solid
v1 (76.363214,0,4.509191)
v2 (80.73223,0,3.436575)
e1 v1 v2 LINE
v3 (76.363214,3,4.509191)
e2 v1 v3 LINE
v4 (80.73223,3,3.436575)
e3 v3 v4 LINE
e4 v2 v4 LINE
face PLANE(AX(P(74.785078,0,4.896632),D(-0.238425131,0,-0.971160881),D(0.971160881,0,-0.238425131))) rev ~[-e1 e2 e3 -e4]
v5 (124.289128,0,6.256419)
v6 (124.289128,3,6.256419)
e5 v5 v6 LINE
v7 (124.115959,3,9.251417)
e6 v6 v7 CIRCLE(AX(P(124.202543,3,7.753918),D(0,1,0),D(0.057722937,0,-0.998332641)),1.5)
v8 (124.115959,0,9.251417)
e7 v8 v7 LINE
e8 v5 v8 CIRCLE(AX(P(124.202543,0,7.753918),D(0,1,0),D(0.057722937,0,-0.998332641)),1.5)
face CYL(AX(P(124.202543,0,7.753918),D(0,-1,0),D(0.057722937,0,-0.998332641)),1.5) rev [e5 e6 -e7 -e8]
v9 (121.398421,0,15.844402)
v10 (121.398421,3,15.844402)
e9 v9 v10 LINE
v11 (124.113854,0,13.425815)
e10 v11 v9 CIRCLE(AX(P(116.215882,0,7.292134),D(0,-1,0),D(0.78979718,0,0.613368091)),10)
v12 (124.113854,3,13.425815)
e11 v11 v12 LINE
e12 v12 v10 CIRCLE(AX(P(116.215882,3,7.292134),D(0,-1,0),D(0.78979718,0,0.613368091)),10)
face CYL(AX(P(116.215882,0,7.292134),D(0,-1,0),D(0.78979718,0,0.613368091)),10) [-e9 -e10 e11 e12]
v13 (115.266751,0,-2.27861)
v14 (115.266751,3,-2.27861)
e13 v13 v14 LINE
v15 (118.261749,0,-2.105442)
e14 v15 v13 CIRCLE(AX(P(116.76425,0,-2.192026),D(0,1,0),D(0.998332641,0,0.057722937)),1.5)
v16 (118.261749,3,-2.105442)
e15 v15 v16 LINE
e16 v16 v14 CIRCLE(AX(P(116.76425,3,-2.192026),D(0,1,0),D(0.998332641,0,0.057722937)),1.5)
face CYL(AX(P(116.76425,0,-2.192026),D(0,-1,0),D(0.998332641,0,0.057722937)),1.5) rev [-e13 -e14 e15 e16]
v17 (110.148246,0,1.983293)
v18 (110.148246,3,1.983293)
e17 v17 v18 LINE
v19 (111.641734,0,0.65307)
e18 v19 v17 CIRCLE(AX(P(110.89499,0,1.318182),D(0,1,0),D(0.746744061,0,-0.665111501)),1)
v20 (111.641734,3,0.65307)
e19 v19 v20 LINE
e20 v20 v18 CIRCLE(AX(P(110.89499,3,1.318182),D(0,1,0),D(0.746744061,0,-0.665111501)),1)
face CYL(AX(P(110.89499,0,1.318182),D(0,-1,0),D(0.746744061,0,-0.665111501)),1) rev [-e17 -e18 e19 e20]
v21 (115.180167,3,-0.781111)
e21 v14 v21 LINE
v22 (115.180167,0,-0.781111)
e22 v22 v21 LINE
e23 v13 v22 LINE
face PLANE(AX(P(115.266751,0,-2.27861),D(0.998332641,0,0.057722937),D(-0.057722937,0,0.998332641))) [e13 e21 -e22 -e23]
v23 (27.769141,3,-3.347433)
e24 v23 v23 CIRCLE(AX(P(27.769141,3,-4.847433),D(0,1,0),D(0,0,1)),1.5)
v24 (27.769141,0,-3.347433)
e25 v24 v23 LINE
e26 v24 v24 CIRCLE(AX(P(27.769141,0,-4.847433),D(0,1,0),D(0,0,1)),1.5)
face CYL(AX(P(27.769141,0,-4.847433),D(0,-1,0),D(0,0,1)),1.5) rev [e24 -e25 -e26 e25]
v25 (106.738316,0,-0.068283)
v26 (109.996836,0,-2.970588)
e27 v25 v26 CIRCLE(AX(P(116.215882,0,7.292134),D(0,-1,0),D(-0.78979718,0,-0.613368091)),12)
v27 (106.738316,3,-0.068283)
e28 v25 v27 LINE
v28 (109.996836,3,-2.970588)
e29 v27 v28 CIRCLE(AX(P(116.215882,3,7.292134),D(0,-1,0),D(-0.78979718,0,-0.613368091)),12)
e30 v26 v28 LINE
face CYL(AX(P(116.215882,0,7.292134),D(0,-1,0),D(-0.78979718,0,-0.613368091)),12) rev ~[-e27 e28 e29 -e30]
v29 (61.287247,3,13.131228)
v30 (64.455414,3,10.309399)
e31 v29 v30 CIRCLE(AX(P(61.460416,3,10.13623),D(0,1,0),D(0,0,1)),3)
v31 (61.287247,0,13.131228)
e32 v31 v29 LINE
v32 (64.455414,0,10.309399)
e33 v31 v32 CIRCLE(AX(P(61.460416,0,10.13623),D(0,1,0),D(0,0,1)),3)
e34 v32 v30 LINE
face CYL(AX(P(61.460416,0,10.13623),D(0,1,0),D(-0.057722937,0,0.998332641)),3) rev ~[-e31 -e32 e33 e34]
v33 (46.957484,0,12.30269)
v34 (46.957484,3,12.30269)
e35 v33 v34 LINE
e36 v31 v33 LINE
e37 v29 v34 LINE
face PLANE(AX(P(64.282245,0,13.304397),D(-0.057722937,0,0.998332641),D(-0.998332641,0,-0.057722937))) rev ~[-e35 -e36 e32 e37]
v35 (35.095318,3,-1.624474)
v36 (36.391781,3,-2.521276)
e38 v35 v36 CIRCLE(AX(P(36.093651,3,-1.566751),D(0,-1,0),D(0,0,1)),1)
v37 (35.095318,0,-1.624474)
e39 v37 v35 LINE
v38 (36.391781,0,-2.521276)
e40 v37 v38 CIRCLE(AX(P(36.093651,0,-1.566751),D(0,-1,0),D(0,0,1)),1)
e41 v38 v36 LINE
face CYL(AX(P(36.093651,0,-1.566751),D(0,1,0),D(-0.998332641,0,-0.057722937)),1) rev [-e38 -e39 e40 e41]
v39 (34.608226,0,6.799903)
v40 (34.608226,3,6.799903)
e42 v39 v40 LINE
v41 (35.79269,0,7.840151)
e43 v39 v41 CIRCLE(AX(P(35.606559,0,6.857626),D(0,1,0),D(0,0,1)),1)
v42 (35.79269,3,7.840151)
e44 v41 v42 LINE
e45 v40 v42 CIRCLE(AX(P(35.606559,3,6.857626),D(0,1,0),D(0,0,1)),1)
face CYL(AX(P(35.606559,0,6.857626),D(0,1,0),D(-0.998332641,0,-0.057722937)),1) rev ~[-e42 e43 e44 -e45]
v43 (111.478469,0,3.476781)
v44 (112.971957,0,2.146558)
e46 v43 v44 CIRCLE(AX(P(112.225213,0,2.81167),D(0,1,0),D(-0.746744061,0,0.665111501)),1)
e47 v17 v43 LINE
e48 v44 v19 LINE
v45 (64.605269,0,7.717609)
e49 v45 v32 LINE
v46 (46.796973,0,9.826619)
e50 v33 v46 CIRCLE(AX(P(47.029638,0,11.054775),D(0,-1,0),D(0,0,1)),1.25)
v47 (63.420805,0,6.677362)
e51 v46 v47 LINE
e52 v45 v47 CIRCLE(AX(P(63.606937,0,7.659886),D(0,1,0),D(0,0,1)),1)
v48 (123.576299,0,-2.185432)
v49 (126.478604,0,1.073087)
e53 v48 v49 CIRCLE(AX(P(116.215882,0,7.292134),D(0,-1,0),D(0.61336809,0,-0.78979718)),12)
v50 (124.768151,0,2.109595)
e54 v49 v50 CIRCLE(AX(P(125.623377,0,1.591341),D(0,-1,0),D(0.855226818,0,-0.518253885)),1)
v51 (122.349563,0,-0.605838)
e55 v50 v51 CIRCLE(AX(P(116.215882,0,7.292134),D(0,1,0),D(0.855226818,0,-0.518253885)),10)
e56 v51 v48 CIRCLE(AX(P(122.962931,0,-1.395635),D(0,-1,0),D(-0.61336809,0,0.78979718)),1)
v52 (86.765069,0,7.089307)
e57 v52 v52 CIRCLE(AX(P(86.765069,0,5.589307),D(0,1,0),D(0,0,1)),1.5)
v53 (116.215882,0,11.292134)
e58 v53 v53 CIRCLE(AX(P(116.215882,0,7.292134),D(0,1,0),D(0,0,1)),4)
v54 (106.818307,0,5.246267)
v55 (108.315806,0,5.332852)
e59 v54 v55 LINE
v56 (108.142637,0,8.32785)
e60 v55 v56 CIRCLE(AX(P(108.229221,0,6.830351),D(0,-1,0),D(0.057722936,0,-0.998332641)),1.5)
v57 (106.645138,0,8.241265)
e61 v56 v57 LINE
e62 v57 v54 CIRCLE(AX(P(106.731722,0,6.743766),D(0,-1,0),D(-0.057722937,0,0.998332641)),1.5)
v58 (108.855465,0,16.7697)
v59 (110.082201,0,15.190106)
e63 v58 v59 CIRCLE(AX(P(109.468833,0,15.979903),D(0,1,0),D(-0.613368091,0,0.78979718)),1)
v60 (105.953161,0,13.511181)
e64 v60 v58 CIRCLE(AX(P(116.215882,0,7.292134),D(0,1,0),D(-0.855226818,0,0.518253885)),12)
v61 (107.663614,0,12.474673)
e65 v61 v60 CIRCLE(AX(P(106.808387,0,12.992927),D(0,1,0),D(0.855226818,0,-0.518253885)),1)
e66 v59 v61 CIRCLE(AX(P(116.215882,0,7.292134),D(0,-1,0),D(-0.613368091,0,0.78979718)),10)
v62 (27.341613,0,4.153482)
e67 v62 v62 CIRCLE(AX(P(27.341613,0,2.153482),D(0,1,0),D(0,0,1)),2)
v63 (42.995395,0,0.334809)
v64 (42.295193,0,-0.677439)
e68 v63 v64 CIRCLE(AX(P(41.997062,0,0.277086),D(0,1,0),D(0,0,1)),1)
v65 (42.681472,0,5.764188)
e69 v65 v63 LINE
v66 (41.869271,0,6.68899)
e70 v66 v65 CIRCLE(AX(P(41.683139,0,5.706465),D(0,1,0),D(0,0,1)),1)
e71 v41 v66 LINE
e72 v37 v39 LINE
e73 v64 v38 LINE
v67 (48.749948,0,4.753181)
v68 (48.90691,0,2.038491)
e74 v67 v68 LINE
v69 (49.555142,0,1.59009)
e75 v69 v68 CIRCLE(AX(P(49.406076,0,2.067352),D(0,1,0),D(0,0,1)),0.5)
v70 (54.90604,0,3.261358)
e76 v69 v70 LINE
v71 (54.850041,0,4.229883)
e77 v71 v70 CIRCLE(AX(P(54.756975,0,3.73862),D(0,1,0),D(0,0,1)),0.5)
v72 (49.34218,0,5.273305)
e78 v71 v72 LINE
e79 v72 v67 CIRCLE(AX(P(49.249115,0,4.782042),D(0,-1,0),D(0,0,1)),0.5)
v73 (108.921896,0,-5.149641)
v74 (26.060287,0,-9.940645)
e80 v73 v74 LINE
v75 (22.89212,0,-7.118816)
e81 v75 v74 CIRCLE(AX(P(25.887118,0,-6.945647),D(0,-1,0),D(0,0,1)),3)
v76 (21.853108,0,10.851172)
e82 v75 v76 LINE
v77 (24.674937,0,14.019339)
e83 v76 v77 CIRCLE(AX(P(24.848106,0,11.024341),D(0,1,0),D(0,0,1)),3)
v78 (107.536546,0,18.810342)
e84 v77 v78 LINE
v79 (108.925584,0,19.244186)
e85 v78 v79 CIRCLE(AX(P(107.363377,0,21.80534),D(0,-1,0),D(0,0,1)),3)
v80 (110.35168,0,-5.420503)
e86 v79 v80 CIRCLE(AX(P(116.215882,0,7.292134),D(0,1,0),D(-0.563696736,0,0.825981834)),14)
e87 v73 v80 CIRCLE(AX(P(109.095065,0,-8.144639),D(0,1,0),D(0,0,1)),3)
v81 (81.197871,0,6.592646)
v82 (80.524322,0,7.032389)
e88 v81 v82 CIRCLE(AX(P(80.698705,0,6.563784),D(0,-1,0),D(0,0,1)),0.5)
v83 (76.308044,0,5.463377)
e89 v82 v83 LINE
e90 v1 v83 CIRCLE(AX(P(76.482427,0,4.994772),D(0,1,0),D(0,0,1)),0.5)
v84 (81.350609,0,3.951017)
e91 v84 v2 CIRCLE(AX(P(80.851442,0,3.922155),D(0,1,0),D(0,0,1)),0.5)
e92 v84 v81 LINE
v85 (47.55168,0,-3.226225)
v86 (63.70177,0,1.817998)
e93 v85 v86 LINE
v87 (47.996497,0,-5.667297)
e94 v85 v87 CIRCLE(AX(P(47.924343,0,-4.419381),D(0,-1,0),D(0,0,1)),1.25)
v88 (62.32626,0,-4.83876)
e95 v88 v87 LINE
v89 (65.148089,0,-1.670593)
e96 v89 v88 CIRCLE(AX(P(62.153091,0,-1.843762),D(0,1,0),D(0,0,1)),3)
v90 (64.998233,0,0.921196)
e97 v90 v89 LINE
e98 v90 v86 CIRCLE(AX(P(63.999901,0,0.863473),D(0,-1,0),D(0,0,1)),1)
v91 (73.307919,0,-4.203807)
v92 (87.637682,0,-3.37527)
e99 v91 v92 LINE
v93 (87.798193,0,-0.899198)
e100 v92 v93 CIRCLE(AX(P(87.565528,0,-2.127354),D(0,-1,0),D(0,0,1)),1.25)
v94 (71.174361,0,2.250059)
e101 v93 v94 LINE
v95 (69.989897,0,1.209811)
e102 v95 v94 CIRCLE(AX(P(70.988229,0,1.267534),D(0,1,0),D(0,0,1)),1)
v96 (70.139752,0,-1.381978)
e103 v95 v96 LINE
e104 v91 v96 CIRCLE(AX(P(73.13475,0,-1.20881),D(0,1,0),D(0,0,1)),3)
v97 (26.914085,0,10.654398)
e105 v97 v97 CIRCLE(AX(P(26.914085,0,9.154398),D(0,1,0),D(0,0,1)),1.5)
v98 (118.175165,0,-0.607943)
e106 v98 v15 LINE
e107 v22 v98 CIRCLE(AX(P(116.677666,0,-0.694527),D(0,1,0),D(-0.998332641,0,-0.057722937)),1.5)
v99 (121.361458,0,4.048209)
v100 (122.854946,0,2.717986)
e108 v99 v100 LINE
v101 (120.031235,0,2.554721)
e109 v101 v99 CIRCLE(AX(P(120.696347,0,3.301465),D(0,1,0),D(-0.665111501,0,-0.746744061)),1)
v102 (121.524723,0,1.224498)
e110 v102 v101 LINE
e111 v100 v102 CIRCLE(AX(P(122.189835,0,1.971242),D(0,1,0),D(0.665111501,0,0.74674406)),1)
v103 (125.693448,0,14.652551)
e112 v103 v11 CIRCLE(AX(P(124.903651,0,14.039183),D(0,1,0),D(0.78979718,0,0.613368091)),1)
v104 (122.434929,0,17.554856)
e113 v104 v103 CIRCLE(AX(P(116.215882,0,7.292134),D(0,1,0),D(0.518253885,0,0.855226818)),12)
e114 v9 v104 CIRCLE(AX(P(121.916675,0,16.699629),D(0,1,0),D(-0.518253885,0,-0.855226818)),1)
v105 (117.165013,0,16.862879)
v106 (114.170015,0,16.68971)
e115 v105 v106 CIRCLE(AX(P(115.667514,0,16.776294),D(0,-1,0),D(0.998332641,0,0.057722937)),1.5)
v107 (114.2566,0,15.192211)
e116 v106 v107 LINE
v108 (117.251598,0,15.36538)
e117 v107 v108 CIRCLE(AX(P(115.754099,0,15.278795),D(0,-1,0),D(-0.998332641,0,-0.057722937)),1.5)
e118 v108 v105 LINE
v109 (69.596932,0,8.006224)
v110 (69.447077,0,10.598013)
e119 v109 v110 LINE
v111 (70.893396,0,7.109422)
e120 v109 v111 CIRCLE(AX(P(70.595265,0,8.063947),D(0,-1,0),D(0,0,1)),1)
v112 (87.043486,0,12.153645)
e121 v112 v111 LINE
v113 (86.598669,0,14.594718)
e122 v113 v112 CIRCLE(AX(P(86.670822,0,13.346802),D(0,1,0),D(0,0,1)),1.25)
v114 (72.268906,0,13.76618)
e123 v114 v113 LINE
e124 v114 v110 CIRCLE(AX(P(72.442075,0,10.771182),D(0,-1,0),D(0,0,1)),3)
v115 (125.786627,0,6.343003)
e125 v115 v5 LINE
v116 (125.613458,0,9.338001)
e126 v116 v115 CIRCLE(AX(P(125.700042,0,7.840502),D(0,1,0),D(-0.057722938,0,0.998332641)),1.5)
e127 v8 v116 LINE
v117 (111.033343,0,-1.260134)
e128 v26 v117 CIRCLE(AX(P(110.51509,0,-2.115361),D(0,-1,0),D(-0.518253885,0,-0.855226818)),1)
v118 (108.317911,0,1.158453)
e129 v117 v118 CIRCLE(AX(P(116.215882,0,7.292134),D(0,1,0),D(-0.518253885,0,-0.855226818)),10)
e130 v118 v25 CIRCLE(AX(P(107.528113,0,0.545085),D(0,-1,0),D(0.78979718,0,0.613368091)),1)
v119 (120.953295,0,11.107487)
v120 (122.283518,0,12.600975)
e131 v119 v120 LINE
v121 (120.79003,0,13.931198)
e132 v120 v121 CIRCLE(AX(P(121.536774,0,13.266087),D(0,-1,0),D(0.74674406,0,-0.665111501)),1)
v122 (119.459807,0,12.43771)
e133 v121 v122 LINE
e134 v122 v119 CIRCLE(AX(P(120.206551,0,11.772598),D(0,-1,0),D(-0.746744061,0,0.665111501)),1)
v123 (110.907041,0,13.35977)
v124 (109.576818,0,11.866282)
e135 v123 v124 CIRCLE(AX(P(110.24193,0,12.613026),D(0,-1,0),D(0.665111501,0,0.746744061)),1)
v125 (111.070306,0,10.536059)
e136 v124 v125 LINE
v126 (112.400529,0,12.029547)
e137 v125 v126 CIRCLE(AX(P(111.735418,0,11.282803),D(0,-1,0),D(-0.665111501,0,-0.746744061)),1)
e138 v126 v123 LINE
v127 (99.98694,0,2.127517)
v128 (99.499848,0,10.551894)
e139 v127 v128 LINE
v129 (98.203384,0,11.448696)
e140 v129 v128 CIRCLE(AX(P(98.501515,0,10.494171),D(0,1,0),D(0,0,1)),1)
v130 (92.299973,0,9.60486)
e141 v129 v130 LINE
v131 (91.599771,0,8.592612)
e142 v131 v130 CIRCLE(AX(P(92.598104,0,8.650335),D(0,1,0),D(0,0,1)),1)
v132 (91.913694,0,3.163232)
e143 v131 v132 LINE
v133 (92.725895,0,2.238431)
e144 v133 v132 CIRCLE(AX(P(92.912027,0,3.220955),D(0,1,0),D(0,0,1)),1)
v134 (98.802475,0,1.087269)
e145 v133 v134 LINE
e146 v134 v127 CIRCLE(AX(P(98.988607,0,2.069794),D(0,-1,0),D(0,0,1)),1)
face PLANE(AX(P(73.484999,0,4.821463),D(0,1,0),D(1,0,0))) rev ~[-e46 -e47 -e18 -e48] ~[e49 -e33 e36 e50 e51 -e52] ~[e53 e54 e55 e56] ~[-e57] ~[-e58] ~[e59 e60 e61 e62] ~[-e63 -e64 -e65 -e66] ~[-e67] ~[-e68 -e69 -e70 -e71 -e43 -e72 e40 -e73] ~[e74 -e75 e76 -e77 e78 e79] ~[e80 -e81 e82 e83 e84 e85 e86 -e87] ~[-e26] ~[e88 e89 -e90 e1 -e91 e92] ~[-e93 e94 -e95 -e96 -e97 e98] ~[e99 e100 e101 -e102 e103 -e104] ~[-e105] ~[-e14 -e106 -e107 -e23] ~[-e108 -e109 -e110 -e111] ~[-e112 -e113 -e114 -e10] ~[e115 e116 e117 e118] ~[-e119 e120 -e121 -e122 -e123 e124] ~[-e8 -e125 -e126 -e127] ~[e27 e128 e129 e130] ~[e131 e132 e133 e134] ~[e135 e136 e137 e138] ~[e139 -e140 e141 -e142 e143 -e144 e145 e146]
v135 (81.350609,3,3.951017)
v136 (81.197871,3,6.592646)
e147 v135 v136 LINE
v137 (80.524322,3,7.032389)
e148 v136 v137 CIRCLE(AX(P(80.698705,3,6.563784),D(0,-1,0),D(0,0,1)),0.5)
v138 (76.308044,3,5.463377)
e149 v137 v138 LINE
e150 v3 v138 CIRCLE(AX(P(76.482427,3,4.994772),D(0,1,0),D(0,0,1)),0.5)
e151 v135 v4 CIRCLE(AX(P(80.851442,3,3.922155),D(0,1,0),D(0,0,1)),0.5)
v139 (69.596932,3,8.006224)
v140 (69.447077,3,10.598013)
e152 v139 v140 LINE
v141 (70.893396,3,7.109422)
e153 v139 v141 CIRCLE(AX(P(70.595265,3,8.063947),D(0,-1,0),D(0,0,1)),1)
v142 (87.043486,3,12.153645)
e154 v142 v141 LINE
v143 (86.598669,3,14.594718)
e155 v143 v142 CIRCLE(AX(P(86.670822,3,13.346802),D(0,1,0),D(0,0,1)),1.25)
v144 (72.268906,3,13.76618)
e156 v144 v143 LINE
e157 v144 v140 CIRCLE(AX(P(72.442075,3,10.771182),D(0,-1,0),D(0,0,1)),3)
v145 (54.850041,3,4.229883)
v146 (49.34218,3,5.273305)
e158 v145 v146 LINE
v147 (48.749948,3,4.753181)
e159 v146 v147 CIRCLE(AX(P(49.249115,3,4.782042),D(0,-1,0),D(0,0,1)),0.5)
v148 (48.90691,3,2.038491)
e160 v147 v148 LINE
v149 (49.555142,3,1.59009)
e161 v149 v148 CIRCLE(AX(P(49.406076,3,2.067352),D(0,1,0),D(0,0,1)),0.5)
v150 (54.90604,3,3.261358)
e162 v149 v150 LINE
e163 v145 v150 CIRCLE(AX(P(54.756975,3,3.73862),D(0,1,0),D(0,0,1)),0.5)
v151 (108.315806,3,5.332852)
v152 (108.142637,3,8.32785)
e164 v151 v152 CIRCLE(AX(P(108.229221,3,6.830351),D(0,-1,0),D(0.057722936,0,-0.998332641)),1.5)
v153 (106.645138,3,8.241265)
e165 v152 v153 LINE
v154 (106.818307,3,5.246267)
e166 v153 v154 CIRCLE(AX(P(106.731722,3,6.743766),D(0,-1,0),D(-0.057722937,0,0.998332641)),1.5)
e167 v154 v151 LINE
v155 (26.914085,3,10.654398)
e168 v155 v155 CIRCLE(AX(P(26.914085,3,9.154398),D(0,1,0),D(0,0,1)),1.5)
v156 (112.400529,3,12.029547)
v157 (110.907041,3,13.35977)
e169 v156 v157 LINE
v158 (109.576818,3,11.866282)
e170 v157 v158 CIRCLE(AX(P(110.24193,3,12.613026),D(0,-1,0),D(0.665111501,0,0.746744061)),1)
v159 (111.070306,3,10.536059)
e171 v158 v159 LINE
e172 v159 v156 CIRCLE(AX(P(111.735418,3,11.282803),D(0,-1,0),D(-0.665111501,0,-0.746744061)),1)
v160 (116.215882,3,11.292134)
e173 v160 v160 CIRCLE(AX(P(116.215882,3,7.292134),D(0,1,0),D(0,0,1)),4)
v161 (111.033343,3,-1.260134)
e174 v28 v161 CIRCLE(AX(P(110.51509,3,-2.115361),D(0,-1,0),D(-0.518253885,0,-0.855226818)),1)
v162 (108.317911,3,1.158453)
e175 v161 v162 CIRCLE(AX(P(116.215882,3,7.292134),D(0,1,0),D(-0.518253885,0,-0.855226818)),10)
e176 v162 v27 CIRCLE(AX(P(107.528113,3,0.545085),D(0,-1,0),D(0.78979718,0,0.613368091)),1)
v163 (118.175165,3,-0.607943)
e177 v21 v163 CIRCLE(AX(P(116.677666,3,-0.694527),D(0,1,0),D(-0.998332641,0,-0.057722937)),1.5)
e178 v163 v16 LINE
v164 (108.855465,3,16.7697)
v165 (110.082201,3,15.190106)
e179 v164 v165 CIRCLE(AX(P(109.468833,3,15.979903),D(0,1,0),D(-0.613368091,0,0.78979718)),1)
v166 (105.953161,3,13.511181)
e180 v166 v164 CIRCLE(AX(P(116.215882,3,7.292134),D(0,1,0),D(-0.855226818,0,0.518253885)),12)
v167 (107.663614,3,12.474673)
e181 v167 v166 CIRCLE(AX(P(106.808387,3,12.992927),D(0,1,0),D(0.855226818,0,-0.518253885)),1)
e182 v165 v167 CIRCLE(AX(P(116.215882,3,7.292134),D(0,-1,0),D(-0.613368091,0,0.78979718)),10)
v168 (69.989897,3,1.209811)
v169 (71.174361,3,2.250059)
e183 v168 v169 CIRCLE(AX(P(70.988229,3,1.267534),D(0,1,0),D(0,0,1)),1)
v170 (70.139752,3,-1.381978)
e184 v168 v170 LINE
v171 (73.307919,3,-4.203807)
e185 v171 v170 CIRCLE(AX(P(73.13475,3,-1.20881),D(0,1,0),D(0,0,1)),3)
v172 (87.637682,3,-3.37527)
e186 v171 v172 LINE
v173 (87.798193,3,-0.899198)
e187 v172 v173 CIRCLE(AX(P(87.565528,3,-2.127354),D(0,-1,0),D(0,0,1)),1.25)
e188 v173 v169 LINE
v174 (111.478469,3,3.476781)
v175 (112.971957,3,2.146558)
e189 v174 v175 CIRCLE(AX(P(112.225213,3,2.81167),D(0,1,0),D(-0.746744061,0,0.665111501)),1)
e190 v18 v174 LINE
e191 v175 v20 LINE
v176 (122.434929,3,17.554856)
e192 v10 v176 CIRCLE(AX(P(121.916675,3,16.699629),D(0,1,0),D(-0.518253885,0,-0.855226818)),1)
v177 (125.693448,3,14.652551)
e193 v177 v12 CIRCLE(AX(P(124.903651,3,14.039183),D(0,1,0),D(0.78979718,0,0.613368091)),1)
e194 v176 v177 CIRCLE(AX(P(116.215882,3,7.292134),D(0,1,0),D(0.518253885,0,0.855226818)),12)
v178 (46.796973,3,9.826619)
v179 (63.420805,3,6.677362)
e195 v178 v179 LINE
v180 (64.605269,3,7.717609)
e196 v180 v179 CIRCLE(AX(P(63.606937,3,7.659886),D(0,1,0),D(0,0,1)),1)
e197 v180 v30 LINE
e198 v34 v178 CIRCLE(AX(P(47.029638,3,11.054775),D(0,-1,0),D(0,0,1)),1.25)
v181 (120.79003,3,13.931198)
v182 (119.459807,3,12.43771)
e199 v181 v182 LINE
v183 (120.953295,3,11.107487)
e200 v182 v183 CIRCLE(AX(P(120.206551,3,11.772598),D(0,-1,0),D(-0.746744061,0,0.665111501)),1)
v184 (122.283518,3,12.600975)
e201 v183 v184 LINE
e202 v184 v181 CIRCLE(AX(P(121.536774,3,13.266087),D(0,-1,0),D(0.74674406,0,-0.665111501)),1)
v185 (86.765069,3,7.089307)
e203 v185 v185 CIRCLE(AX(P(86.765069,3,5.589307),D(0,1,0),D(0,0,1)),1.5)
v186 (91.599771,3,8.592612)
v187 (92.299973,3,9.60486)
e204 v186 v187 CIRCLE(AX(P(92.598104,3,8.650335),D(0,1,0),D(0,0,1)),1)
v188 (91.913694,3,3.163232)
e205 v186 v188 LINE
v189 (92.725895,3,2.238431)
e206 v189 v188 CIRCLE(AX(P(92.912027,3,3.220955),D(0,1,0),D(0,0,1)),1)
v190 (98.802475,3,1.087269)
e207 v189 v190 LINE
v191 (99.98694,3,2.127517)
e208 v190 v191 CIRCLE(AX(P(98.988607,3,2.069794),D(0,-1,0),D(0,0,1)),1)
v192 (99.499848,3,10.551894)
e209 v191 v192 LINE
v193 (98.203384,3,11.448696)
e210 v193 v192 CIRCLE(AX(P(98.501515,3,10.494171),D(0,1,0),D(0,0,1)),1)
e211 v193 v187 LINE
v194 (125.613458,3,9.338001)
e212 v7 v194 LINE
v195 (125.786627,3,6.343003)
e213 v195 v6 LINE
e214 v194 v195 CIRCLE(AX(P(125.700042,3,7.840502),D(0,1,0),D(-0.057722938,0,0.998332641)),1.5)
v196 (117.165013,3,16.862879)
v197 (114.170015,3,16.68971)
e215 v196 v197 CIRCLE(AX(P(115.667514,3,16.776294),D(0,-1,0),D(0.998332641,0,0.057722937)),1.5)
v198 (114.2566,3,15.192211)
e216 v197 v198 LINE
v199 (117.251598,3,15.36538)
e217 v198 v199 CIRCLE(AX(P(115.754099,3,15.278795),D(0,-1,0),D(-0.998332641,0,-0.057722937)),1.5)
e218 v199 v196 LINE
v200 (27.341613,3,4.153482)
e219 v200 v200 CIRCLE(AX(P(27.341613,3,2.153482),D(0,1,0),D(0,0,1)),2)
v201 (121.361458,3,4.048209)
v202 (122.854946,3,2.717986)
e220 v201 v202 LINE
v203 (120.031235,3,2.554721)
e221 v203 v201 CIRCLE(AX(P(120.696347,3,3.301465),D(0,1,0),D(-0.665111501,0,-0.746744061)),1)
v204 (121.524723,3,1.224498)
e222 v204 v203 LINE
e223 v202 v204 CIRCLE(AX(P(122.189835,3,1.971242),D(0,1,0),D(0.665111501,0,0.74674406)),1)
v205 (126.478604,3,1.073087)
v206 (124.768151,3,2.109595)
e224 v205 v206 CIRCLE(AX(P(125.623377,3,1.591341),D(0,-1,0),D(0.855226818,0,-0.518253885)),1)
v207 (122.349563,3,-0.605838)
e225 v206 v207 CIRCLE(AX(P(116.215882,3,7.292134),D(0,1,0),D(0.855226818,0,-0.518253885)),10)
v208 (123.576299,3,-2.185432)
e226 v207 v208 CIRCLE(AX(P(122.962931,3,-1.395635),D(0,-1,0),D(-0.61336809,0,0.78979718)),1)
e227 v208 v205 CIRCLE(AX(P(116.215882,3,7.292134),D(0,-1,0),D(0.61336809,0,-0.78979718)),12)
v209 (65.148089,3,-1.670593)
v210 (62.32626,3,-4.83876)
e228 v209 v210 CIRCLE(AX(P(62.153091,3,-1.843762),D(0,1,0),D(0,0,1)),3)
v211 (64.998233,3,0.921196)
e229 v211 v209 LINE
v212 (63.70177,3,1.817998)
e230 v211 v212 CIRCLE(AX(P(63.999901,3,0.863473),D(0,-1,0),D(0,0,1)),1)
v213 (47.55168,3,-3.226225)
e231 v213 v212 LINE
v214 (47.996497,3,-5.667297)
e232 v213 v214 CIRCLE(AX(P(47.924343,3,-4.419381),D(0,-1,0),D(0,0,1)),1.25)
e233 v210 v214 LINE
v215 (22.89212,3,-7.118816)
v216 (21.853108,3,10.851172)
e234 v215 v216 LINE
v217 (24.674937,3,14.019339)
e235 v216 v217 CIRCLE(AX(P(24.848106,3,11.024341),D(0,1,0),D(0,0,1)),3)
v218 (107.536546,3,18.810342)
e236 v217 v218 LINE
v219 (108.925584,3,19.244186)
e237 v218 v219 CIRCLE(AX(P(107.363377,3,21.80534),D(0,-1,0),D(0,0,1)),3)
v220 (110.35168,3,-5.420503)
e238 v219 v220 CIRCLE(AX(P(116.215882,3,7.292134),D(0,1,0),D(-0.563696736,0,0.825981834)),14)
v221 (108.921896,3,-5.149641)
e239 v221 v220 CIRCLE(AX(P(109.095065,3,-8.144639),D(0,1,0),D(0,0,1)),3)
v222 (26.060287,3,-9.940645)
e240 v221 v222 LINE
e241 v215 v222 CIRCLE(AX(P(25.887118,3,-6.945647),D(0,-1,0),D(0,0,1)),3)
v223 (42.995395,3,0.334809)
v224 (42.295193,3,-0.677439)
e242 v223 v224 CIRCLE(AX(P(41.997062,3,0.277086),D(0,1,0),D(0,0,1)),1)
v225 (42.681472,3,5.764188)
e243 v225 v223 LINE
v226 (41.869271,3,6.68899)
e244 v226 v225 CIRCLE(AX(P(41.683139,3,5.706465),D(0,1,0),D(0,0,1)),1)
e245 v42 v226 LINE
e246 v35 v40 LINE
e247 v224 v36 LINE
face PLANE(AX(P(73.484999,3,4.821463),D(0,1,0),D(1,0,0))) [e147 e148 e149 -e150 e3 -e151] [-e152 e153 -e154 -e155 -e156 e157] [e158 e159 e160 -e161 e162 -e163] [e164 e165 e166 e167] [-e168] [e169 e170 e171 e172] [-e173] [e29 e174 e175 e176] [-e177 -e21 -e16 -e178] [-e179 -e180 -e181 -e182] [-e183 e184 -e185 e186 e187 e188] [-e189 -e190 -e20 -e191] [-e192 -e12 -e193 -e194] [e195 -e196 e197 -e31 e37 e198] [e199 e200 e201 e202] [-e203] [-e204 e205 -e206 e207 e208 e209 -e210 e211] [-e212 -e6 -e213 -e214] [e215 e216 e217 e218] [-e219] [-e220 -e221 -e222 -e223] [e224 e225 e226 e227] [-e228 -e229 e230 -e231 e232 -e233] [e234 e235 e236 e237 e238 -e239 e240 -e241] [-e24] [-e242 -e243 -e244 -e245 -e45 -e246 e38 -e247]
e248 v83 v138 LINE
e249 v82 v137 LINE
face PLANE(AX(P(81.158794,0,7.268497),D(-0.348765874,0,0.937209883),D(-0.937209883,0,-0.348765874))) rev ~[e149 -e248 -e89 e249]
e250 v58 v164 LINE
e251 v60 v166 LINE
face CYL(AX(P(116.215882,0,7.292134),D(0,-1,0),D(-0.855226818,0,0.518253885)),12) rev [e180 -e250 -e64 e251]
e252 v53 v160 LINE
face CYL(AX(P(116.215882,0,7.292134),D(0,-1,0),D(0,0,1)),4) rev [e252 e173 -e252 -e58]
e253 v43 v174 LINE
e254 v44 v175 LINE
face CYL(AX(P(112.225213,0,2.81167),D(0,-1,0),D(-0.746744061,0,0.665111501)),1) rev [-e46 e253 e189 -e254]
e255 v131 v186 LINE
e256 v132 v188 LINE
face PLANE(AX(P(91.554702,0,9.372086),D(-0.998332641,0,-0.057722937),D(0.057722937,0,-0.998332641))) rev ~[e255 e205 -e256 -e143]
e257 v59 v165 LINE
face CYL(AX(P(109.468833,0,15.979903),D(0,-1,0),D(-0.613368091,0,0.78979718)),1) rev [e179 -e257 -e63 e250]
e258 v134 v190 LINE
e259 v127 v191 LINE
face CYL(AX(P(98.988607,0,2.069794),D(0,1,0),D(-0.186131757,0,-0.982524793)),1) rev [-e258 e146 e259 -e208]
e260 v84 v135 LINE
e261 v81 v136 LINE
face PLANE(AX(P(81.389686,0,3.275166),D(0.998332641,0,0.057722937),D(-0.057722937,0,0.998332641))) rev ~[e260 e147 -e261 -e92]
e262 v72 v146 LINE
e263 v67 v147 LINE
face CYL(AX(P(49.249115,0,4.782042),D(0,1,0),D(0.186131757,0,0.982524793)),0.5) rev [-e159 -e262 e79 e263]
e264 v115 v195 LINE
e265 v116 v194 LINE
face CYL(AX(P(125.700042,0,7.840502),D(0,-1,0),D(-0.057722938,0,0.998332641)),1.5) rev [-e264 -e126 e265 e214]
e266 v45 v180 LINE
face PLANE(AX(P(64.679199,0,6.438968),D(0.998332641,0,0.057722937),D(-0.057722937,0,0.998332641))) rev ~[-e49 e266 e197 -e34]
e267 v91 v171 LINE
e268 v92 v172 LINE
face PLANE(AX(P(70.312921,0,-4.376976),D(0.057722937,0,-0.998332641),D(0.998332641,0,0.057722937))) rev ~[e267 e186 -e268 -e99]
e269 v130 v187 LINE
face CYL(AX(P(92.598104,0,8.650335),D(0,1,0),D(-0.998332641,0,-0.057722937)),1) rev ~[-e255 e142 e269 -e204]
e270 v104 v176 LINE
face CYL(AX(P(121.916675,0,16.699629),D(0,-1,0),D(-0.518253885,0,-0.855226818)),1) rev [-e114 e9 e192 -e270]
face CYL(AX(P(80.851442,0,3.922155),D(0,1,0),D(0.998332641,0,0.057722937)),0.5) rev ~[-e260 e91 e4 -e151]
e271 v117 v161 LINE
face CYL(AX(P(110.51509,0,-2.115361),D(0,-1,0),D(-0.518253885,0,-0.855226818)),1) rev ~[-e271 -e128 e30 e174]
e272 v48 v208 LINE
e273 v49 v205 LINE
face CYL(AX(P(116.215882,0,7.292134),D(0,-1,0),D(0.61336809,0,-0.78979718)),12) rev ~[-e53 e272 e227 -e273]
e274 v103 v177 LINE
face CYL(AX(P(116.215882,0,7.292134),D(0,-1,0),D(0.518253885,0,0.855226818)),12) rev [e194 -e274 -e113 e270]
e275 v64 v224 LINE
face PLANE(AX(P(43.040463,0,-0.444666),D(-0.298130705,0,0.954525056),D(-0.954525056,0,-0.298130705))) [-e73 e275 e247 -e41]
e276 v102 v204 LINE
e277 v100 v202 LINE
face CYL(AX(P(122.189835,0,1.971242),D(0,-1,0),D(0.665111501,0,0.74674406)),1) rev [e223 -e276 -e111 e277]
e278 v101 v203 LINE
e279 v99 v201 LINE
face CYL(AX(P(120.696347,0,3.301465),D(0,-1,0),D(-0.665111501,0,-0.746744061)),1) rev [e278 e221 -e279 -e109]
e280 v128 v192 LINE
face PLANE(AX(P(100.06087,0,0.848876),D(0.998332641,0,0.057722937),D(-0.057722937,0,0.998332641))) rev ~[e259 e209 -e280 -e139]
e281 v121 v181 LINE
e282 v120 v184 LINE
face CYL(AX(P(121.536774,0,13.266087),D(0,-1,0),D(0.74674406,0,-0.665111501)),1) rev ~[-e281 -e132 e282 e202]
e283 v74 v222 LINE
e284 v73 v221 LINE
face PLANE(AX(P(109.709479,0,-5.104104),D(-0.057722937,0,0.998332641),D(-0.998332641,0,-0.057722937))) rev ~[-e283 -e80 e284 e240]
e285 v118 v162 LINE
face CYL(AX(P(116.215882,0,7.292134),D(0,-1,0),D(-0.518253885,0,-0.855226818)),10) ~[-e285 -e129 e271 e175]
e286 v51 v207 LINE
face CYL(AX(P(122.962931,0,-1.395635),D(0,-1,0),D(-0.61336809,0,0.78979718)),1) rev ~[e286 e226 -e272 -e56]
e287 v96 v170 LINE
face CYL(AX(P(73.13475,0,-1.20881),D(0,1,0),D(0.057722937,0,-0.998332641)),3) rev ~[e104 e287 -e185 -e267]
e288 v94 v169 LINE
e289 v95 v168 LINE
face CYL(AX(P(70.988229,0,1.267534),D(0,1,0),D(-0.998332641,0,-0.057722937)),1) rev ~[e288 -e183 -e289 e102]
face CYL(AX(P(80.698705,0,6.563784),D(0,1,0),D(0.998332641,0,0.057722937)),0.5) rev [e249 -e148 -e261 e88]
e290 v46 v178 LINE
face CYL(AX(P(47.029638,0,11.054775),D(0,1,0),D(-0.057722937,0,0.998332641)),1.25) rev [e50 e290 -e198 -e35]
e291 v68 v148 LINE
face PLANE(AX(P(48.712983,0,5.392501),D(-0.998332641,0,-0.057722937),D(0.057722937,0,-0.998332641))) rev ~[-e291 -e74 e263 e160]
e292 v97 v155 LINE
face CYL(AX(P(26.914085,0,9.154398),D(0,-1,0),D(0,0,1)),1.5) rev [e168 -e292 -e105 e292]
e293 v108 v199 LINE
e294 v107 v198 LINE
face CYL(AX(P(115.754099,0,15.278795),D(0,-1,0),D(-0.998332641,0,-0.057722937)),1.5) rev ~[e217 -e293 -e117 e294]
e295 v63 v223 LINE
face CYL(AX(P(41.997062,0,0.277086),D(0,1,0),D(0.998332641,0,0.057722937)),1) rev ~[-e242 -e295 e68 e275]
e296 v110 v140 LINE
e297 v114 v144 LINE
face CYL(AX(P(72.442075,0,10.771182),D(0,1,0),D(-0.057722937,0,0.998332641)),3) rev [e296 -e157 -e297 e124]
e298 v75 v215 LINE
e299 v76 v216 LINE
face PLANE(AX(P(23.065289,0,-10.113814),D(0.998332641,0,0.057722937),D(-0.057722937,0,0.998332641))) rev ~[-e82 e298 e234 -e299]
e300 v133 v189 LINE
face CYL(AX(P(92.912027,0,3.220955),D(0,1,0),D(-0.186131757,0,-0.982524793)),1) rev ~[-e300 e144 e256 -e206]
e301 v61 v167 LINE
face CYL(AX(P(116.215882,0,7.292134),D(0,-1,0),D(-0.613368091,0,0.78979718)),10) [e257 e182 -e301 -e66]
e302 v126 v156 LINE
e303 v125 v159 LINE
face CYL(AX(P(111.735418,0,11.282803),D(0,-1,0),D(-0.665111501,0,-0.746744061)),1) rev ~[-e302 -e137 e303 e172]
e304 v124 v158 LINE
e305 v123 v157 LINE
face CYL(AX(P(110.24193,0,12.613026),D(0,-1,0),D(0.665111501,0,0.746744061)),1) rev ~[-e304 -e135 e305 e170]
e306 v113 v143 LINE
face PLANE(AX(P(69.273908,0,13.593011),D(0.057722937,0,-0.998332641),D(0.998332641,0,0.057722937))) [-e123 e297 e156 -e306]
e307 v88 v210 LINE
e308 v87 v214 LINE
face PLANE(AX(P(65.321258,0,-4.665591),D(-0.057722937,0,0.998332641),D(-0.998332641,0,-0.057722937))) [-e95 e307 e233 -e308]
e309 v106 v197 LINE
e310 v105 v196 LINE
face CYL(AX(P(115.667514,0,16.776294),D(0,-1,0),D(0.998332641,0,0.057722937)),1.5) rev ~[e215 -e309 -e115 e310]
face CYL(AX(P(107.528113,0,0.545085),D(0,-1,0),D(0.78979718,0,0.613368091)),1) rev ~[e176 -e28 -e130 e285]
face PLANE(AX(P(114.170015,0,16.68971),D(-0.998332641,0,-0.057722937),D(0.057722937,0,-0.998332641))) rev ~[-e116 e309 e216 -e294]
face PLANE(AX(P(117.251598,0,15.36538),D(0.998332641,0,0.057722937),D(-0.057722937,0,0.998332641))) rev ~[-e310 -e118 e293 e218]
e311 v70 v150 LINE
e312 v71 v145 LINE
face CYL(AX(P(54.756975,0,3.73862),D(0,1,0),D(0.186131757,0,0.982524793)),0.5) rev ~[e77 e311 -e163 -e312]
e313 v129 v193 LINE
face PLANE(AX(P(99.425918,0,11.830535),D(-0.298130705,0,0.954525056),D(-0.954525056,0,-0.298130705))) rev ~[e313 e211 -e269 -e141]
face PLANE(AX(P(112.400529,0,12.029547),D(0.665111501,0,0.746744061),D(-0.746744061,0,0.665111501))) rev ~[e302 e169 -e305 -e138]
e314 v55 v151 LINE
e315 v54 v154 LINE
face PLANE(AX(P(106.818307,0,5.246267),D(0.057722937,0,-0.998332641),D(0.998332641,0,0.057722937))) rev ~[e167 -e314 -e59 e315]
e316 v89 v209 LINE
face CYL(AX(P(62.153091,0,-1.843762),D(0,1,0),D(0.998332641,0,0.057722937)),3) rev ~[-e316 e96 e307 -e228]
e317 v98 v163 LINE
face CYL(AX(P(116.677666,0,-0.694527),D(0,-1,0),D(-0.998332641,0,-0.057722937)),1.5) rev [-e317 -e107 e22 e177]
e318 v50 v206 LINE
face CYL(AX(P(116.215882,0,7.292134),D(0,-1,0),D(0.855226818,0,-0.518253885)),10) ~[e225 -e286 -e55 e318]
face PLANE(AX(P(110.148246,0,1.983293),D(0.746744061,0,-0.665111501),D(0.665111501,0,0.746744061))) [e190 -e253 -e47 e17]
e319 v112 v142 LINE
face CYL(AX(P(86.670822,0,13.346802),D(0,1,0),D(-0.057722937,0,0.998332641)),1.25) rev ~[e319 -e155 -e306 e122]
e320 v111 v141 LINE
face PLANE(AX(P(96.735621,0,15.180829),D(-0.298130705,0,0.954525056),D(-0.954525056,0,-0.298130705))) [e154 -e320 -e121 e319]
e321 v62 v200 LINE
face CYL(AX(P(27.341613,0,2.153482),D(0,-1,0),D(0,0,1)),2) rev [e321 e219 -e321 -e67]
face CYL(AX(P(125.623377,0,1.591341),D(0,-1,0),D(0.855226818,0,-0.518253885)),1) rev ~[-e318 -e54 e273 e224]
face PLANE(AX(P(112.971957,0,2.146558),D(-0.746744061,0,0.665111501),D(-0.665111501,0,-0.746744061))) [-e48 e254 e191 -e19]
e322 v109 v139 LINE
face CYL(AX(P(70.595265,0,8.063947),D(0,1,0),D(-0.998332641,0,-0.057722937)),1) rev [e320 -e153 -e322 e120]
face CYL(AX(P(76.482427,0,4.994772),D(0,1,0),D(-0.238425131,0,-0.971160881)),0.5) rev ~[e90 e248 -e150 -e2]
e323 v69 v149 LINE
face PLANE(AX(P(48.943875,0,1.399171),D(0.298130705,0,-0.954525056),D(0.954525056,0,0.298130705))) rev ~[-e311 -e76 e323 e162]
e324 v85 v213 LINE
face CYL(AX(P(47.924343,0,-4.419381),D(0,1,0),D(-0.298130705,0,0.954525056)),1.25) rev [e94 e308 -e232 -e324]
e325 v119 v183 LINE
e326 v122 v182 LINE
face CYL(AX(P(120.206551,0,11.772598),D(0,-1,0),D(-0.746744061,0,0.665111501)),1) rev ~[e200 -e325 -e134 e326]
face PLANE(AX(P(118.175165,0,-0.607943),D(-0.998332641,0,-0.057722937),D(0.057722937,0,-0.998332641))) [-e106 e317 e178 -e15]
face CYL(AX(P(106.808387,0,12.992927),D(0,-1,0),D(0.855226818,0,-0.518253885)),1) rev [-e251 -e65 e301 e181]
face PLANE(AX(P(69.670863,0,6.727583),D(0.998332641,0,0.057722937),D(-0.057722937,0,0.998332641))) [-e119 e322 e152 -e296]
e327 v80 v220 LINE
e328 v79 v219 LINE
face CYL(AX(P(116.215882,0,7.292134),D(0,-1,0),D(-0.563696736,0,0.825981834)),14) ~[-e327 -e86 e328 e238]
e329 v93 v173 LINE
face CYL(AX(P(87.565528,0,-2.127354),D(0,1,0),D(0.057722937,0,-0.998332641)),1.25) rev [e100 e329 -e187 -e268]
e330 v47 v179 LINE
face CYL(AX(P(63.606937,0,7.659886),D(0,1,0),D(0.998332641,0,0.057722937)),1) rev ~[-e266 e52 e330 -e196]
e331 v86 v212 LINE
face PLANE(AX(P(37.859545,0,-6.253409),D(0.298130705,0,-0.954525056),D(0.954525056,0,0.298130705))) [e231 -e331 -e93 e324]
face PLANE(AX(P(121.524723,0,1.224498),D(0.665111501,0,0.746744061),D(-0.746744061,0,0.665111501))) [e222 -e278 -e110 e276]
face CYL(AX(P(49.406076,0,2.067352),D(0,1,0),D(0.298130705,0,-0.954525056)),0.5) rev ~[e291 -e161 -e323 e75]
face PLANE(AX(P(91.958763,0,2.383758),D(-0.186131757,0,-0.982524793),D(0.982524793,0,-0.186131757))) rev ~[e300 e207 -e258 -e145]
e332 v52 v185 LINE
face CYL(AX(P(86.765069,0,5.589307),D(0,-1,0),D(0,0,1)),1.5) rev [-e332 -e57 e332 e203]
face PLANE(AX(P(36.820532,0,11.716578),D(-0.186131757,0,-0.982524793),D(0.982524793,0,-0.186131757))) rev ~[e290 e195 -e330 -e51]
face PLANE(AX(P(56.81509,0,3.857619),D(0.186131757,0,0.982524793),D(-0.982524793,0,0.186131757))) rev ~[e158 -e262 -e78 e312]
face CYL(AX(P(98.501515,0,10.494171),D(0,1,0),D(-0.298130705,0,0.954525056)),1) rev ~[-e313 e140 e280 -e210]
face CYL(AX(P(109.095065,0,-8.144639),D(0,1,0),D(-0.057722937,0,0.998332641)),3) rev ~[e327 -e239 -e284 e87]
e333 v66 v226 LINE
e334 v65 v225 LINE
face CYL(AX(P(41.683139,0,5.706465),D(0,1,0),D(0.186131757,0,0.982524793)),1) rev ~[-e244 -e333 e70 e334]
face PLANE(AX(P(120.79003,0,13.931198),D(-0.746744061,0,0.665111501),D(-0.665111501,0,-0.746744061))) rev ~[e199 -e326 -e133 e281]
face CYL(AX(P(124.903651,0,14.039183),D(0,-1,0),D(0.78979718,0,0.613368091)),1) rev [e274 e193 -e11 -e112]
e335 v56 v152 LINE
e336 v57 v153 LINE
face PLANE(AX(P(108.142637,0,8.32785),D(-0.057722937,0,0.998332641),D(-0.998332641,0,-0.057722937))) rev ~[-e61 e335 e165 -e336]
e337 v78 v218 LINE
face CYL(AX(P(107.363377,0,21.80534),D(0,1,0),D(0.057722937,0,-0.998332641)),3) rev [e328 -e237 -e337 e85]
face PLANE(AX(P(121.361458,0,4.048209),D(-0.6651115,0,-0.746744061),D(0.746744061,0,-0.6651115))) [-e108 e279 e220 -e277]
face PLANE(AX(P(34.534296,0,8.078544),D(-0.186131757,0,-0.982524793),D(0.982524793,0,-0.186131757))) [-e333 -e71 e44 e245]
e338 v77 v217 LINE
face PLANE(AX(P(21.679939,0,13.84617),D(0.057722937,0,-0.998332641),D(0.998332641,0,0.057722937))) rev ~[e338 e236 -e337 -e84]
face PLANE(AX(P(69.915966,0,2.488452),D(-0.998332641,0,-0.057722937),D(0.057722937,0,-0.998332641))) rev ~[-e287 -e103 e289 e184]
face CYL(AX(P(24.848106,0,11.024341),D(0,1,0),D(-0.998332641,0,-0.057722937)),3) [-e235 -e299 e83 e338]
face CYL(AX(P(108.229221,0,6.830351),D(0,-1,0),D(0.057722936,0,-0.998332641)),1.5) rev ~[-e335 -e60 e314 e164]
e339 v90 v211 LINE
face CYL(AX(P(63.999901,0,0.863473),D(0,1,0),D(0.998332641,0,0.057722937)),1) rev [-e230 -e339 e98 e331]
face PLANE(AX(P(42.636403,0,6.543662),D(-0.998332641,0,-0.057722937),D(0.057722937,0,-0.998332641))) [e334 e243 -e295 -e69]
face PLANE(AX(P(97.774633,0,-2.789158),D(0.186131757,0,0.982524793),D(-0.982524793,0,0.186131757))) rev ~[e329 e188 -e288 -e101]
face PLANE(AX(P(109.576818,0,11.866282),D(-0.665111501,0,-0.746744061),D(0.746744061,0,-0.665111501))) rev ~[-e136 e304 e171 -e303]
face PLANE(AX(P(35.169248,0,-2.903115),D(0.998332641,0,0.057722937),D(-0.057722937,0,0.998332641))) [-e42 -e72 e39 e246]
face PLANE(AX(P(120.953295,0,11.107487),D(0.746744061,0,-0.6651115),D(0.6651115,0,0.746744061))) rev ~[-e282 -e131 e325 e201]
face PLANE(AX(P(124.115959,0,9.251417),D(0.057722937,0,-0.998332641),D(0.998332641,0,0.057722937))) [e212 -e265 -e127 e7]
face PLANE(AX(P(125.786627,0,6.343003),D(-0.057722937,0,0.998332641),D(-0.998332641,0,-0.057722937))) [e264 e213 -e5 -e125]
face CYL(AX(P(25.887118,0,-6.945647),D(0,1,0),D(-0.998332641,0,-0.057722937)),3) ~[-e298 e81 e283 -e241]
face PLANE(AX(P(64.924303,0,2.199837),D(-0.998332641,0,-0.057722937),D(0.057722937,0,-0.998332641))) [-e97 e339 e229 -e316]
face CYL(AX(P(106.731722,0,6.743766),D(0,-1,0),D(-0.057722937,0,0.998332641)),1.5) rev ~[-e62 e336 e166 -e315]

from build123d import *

# Parameters (mm, degrees)
SKETCH1_R           = 1.5
SKETCH1_R_2         = 4
SKETCH1_R_3         = 2
BOSS_EXTRUDE1_DEPTH = 3
SKETCH2_R           = 1.5
CUT_EXTRUDE2_DEPTH  = 3
FILLET1_R           = 1
FILLET2_R           = 1.25
FILLET3_R           = 3
FILLET4_R           = 1
FILLET5_R           = 0.5
FILLET6_R           = 3


with BuildPart() as part:
    # Sketch1 → Boss-Extrude1 (new body)
    with BuildSketch(Plane(origin=(0, 0, 0), x_dir=(1, 0, 0), z_dir=(0, 1, 0))):
        with BuildLine():
            Line((23.065289305, 10.113813665), (21.67993882, -13.846169724))
            Line((21.67993882, -13.846169724), (108.324128041, -18.855879772))
            ThreePointArc((108.324128041, -18.855879772), (130.192539316, -8.10025521), (109.709478525, 5.104103618))
            Line((109.709478525, 5.104103618), (23.065289305, 10.113813665))
        make_face()
        with Locations(Location((26.914085012, -9.154397921, 0), (0, 0, 270))):
            Circle(SKETCH1_R, mode=Mode.SUBTRACT)
        with Locations(Location((27.769141375, 4.847433338, 0), (0, 0, 270))):
            Circle(SKETCH1_R, mode=Mode.SUBTRACT)
        with Locations(Location((116.215882339, -7.292134094, 0), (0, 0, 270))):
            Circle(SKETCH1_R_2, mode=Mode.SUBTRACT)
        with Locations(Location((27.341613193, -2.153482292, 0), (0, 0, 270))):
            Circle(SKETCH1_R_3, mode=Mode.SUBTRACT)
    extrude(amount=BOSS_EXTRUDE1_DEPTH)

    # Sketch2 → Cut-Extrude2 (cut)
    with BuildSketch(Plane(origin=(0, 0, 0), x_dir=(1, 0, 0), z_dir=(0, 1, 0))):
        with Locations(Location((86.765069423, -5.589307457, 0), (0, 0, 270))):
            Circle(SKETCH2_R)
        Polygon((35.169248231, 2.903114787), (34.534295925, -8.078544267), (42.636402929, -6.543662479), (43.040463487, 0.444666009), align=None)
        Polygon((48.712983182, -5.392501139), (48.943874929, -1.399170574), (56.815090185, -3.857619351), align=None)
        Polygon((37.85954525, 6.253409084), (64.924303207, -2.199837199), (65.321257747, 4.665590925), align=None)
        Polygon((36.820532386, -11.716578458), (64.679199423, -6.438968493), (64.282244884, -13.304396617), align=None)
        Polygon((69.27390809, -13.593011301), (96.735620587, -15.180829461), (69.670862629, -6.727583177), align=None)
        Polygon((97.77463345, 2.789158082), (69.915966413, -2.488451884), (70.312920953, 4.376976241), align=None)
        Polygon((81.158794022, -7.268496587), (74.785077728, -4.896632215), (81.389685769, -3.275166022), align=None)
        Polygon((100.060869911, -0.848876109), (99.425917606, -11.830535163), (91.55470235, -9.372086386), (91.958762908, -2.383757897), align=None)
        with BuildLine():
            Line((120.953295402, -11.107486957), (122.283518403, -12.600975079))
            ThreePointArc((122.283518403, -12.600975079), (122.201885843, -14.01283064), (120.790030282, -13.931198079))
            Line((120.790030282, -13.931198079), (119.459807281, -12.437709958))
            ThreePointArc((119.459807281, -12.437709958), (119.541439841, -11.025854397), (120.953295402, -11.107486957))
        make_face()
        with BuildLine():
            Line((114.170015477, -16.689709781), (114.256599882, -15.192210819))
            ThreePointArc((114.256599882, -15.192210819), (115.840683249, -13.781296262), (117.251597806, -15.36537963))
            Line((117.251597806, -15.36537963), (117.165013401, -16.862878591))
            ThreePointArc((117.165013401, -16.862878591), (115.580930034, -18.273793148), (114.170015477, -16.689709781))
        make_face()
        with BuildLine():
            Line((121.361458203, -4.048209152), (122.854946324, -2.717986152))
            ThreePointArc((122.854946324, -2.717986152), (122.936578884, -1.306130591), (121.524723323, -1.22449803))
            Line((121.524723323, -1.22449803), (120.031235202, -2.554721031))
            ThreePointArc((120.031235202, -2.554721031), (119.949602642, -3.966576592), (121.361458203, -4.048209152))
        make_face()
        with BuildLine():
            Line((115.266751277, 2.278610403), (115.180166872, 0.781111441))
            ThreePointArc((115.180166872, 0.781111441), (116.591081429, -0.802971926), (118.175164796, 0.60794263))
            Line((118.175164796, 0.60794263), (118.261749201, 2.105441592))
            ThreePointArc((118.261749201, 2.105441592), (116.850834644, 3.689524959), (115.266751277, 2.278610403))
        make_face()
        with BuildLine():
            Line((112.971957397, -2.14655823), (111.641734396, -0.653070109))
            ThreePointArc((111.641734396, -0.653070109), (110.229878835, -0.571437549), (110.148246275, -1.98329311))
            Line((110.148246275, -1.98329311), (111.478469276, -3.476781231))
            ThreePointArc((111.478469276, -3.476781231), (112.890324837, -3.558413791), (112.971957397, -2.14655823))
        make_face()
        with BuildLine():
            Line((112.400529476, -12.029547157), (110.907041355, -13.359770158))
            ThreePointArc((110.907041355, -13.359770158), (109.495185794, -13.278137598), (109.576818354, -11.866282037))
            Line((109.576818354, -11.866282037), (111.070306475, -10.536059036))
            ThreePointArc((111.070306475, -10.536059036), (112.482162036, -10.617691596), (112.400529476, -12.029547157))
        make_face()
        with BuildLine():
            Line((125.786626836, -6.343003033), (124.289127874, -6.256418627))
            ThreePointArc((124.289127874, -6.256418627), (122.705044507, -7.667333184), (124.115959064, -9.251416551))
            Line((124.115959064, -9.251416551), (125.613458025, -9.338000956))
            ThreePointArc((125.613458025, -9.338000956), (127.197541393, -7.9270864), (125.786626836, -6.343003033))
        make_face()
        with BuildLine():
            Line((106.818306653, -5.246267232), (108.315805614, -5.332851638))
            ThreePointArc((108.315805614, -5.332851638), (109.726720171, -6.916935005), (108.142636804, -8.327849561))
            Line((108.142636804, -8.327849561), (106.645137842, -8.241265156))
            ThreePointArc((106.645137842, -8.241265156), (105.234223285, -6.657181789), (106.818306653, -5.246267232))
        make_face()
        with BuildLine():
            ThreePointArc((122.434928959, -17.554855914), (124.197220344, -16.253062821), (125.693448496, -14.652551185))
            ThreePointArc((125.693448496, -14.652551185), (125.517019407, -13.249385914), (124.113854136, -13.425815003))
            ThreePointArc((124.113854136, -13.425815003), (122.866997343, -14.7595747), (121.398421189, -15.844402277))
            ThreePointArc((121.398421189, -15.844402277), (121.061448255, -17.21788298), (122.434928959, -17.554855914))
        make_face()
        with BuildLine():
            ThreePointArc((123.576299429, 2.185432062), (125.176811066, 0.689203911), (126.478604158, -1.073087475))
            ThreePointArc((126.478604158, -1.073087475), (126.141631225, -2.446568178), (124.768150522, -2.109595245))
            ThreePointArc((124.768150522, -2.109595245), (123.683322945, -0.64101909), (122.349563248, 0.605837703))
            ThreePointArc((122.349563248, 0.605837703), (122.173134159, 2.009002974), (123.576299429, 2.185432062))
        make_face()
        with BuildLine():
            ThreePointArc((106.738316182, 0.068282996), (108.234544334, 1.668794633), (109.996835719, 2.970587725))
            ThreePointArc((109.996835719, 2.970587725), (111.370316423, 2.633614792), (111.033343489, 1.260134088))
            ThreePointArc((111.033343489, 1.260134088), (109.564767335, 0.175306511), (108.317910542, -1.158453186))
            ThreePointArc((108.317910542, -1.158453186), (106.914745271, -1.334882275), (106.738316182, 0.068282996))
        make_face()
        with BuildLine():
            ThreePointArc((105.95316052, -13.511180714), (107.254953612, -15.273472099), (108.855465249, -16.769700251))
            ThreePointArc((108.855465249, -16.769700251), (110.258630519, -16.593271162), (110.08220143, -15.190105892))
            ThreePointArc((110.08220143, -15.190105892), (108.748441733, -13.943249099), (107.663614156, -12.474672944))
            ThreePointArc((107.663614156, -12.474672944), (106.290133453, -12.137700011), (105.95316052, -13.511180714))
        make_face()
    extrude(amount=CUT_EXTRUDE2_DEPTH, mode=Mode.SUBTRACT)

    # Fillet1
    fillet1_edges = [part.edges().sort_by_distance(p)[0] for p in [
        (100.060869911, 1.5, 0.848876109),
        (91.958762908, 1.5, 2.383757897),
        (91.55470235, 1.5, 9.372086386),
        (99.425917606, 1.5, 11.830535163),
        (43.040463487, 1.5, -0.444666009),
        (35.169248231, 1.5, -2.903114787),
        (34.534295925, 1.5, 8.078544267),
        (42.636402929, 1.5, 6.543662479),
    ]]
    fillet(fillet1_edges, radius=FILLET1_R)

    # Fillet2
    fillet2_edges = [part.edges().sort_by_distance(p)[0] for p in [
        (97.77463345, 1.5, -2.789158082),
        (96.735620587, 1.5, 15.180829461),
        (36.820532386, 1.5, 11.716578458),
        (37.85954525, 1.5, -6.253409084),
    ]]
    fillet(fillet2_edges, radius=FILLET2_R)

    # Fillet3
    fillet3_edges = [part.edges().sort_by_distance(p)[0] for p in [
        (70.312920953, 1.5, -4.376976241),
        (69.27390809, 1.5, 13.593011301),
        (64.282244884, 1.5, 13.304396617),
        (65.321257747, 1.5, -4.665590925),
    ]]
    fillet(fillet3_edges, radius=FILLET3_R)

    # Fillet4
    fillet4_edges = [part.edges().sort_by_distance(p)[0] for p in [
        (69.915966413, 1.5, 2.488451884),
        (69.670862629, 1.5, 6.727583177),
        (64.679199423, 1.5, 6.438968493),
        (64.924303207, 1.5, 2.199837199),
    ]]
    fillet(fillet4_edges, radius=FILLET4_R)

    # Fillet5
    fillet5_edges = [part.edges().sort_by_distance(p)[0] for p in [
        (81.158794022, 1.5, 7.268496587),
        (81.389685769, 1.5, 3.275166022),
        (74.785077728, 1.5, 4.896632215),
        (48.712983182, 1.5, 5.392501139),
        (56.815090185, 1.5, 3.857619351),
        (48.943874929, 1.5, 1.399170574),
    ]]
    fillet(fillet5_edges, radius=FILLET5_R)

    # Fillet6
    fillet6_edges = [part.edges().sort_by_distance(p)[0] for p in [
        (108.324128041, 1.5, 18.855879772),
        (21.67993882, 1.5, 13.846169724),
        (23.065289305, 1.5, -10.113813665),
        (109.709478525, 1.5, -5.104103618),
    ]]
    fillet(fillet6_edges, radius=FILLET6_R)


solid = part.part
